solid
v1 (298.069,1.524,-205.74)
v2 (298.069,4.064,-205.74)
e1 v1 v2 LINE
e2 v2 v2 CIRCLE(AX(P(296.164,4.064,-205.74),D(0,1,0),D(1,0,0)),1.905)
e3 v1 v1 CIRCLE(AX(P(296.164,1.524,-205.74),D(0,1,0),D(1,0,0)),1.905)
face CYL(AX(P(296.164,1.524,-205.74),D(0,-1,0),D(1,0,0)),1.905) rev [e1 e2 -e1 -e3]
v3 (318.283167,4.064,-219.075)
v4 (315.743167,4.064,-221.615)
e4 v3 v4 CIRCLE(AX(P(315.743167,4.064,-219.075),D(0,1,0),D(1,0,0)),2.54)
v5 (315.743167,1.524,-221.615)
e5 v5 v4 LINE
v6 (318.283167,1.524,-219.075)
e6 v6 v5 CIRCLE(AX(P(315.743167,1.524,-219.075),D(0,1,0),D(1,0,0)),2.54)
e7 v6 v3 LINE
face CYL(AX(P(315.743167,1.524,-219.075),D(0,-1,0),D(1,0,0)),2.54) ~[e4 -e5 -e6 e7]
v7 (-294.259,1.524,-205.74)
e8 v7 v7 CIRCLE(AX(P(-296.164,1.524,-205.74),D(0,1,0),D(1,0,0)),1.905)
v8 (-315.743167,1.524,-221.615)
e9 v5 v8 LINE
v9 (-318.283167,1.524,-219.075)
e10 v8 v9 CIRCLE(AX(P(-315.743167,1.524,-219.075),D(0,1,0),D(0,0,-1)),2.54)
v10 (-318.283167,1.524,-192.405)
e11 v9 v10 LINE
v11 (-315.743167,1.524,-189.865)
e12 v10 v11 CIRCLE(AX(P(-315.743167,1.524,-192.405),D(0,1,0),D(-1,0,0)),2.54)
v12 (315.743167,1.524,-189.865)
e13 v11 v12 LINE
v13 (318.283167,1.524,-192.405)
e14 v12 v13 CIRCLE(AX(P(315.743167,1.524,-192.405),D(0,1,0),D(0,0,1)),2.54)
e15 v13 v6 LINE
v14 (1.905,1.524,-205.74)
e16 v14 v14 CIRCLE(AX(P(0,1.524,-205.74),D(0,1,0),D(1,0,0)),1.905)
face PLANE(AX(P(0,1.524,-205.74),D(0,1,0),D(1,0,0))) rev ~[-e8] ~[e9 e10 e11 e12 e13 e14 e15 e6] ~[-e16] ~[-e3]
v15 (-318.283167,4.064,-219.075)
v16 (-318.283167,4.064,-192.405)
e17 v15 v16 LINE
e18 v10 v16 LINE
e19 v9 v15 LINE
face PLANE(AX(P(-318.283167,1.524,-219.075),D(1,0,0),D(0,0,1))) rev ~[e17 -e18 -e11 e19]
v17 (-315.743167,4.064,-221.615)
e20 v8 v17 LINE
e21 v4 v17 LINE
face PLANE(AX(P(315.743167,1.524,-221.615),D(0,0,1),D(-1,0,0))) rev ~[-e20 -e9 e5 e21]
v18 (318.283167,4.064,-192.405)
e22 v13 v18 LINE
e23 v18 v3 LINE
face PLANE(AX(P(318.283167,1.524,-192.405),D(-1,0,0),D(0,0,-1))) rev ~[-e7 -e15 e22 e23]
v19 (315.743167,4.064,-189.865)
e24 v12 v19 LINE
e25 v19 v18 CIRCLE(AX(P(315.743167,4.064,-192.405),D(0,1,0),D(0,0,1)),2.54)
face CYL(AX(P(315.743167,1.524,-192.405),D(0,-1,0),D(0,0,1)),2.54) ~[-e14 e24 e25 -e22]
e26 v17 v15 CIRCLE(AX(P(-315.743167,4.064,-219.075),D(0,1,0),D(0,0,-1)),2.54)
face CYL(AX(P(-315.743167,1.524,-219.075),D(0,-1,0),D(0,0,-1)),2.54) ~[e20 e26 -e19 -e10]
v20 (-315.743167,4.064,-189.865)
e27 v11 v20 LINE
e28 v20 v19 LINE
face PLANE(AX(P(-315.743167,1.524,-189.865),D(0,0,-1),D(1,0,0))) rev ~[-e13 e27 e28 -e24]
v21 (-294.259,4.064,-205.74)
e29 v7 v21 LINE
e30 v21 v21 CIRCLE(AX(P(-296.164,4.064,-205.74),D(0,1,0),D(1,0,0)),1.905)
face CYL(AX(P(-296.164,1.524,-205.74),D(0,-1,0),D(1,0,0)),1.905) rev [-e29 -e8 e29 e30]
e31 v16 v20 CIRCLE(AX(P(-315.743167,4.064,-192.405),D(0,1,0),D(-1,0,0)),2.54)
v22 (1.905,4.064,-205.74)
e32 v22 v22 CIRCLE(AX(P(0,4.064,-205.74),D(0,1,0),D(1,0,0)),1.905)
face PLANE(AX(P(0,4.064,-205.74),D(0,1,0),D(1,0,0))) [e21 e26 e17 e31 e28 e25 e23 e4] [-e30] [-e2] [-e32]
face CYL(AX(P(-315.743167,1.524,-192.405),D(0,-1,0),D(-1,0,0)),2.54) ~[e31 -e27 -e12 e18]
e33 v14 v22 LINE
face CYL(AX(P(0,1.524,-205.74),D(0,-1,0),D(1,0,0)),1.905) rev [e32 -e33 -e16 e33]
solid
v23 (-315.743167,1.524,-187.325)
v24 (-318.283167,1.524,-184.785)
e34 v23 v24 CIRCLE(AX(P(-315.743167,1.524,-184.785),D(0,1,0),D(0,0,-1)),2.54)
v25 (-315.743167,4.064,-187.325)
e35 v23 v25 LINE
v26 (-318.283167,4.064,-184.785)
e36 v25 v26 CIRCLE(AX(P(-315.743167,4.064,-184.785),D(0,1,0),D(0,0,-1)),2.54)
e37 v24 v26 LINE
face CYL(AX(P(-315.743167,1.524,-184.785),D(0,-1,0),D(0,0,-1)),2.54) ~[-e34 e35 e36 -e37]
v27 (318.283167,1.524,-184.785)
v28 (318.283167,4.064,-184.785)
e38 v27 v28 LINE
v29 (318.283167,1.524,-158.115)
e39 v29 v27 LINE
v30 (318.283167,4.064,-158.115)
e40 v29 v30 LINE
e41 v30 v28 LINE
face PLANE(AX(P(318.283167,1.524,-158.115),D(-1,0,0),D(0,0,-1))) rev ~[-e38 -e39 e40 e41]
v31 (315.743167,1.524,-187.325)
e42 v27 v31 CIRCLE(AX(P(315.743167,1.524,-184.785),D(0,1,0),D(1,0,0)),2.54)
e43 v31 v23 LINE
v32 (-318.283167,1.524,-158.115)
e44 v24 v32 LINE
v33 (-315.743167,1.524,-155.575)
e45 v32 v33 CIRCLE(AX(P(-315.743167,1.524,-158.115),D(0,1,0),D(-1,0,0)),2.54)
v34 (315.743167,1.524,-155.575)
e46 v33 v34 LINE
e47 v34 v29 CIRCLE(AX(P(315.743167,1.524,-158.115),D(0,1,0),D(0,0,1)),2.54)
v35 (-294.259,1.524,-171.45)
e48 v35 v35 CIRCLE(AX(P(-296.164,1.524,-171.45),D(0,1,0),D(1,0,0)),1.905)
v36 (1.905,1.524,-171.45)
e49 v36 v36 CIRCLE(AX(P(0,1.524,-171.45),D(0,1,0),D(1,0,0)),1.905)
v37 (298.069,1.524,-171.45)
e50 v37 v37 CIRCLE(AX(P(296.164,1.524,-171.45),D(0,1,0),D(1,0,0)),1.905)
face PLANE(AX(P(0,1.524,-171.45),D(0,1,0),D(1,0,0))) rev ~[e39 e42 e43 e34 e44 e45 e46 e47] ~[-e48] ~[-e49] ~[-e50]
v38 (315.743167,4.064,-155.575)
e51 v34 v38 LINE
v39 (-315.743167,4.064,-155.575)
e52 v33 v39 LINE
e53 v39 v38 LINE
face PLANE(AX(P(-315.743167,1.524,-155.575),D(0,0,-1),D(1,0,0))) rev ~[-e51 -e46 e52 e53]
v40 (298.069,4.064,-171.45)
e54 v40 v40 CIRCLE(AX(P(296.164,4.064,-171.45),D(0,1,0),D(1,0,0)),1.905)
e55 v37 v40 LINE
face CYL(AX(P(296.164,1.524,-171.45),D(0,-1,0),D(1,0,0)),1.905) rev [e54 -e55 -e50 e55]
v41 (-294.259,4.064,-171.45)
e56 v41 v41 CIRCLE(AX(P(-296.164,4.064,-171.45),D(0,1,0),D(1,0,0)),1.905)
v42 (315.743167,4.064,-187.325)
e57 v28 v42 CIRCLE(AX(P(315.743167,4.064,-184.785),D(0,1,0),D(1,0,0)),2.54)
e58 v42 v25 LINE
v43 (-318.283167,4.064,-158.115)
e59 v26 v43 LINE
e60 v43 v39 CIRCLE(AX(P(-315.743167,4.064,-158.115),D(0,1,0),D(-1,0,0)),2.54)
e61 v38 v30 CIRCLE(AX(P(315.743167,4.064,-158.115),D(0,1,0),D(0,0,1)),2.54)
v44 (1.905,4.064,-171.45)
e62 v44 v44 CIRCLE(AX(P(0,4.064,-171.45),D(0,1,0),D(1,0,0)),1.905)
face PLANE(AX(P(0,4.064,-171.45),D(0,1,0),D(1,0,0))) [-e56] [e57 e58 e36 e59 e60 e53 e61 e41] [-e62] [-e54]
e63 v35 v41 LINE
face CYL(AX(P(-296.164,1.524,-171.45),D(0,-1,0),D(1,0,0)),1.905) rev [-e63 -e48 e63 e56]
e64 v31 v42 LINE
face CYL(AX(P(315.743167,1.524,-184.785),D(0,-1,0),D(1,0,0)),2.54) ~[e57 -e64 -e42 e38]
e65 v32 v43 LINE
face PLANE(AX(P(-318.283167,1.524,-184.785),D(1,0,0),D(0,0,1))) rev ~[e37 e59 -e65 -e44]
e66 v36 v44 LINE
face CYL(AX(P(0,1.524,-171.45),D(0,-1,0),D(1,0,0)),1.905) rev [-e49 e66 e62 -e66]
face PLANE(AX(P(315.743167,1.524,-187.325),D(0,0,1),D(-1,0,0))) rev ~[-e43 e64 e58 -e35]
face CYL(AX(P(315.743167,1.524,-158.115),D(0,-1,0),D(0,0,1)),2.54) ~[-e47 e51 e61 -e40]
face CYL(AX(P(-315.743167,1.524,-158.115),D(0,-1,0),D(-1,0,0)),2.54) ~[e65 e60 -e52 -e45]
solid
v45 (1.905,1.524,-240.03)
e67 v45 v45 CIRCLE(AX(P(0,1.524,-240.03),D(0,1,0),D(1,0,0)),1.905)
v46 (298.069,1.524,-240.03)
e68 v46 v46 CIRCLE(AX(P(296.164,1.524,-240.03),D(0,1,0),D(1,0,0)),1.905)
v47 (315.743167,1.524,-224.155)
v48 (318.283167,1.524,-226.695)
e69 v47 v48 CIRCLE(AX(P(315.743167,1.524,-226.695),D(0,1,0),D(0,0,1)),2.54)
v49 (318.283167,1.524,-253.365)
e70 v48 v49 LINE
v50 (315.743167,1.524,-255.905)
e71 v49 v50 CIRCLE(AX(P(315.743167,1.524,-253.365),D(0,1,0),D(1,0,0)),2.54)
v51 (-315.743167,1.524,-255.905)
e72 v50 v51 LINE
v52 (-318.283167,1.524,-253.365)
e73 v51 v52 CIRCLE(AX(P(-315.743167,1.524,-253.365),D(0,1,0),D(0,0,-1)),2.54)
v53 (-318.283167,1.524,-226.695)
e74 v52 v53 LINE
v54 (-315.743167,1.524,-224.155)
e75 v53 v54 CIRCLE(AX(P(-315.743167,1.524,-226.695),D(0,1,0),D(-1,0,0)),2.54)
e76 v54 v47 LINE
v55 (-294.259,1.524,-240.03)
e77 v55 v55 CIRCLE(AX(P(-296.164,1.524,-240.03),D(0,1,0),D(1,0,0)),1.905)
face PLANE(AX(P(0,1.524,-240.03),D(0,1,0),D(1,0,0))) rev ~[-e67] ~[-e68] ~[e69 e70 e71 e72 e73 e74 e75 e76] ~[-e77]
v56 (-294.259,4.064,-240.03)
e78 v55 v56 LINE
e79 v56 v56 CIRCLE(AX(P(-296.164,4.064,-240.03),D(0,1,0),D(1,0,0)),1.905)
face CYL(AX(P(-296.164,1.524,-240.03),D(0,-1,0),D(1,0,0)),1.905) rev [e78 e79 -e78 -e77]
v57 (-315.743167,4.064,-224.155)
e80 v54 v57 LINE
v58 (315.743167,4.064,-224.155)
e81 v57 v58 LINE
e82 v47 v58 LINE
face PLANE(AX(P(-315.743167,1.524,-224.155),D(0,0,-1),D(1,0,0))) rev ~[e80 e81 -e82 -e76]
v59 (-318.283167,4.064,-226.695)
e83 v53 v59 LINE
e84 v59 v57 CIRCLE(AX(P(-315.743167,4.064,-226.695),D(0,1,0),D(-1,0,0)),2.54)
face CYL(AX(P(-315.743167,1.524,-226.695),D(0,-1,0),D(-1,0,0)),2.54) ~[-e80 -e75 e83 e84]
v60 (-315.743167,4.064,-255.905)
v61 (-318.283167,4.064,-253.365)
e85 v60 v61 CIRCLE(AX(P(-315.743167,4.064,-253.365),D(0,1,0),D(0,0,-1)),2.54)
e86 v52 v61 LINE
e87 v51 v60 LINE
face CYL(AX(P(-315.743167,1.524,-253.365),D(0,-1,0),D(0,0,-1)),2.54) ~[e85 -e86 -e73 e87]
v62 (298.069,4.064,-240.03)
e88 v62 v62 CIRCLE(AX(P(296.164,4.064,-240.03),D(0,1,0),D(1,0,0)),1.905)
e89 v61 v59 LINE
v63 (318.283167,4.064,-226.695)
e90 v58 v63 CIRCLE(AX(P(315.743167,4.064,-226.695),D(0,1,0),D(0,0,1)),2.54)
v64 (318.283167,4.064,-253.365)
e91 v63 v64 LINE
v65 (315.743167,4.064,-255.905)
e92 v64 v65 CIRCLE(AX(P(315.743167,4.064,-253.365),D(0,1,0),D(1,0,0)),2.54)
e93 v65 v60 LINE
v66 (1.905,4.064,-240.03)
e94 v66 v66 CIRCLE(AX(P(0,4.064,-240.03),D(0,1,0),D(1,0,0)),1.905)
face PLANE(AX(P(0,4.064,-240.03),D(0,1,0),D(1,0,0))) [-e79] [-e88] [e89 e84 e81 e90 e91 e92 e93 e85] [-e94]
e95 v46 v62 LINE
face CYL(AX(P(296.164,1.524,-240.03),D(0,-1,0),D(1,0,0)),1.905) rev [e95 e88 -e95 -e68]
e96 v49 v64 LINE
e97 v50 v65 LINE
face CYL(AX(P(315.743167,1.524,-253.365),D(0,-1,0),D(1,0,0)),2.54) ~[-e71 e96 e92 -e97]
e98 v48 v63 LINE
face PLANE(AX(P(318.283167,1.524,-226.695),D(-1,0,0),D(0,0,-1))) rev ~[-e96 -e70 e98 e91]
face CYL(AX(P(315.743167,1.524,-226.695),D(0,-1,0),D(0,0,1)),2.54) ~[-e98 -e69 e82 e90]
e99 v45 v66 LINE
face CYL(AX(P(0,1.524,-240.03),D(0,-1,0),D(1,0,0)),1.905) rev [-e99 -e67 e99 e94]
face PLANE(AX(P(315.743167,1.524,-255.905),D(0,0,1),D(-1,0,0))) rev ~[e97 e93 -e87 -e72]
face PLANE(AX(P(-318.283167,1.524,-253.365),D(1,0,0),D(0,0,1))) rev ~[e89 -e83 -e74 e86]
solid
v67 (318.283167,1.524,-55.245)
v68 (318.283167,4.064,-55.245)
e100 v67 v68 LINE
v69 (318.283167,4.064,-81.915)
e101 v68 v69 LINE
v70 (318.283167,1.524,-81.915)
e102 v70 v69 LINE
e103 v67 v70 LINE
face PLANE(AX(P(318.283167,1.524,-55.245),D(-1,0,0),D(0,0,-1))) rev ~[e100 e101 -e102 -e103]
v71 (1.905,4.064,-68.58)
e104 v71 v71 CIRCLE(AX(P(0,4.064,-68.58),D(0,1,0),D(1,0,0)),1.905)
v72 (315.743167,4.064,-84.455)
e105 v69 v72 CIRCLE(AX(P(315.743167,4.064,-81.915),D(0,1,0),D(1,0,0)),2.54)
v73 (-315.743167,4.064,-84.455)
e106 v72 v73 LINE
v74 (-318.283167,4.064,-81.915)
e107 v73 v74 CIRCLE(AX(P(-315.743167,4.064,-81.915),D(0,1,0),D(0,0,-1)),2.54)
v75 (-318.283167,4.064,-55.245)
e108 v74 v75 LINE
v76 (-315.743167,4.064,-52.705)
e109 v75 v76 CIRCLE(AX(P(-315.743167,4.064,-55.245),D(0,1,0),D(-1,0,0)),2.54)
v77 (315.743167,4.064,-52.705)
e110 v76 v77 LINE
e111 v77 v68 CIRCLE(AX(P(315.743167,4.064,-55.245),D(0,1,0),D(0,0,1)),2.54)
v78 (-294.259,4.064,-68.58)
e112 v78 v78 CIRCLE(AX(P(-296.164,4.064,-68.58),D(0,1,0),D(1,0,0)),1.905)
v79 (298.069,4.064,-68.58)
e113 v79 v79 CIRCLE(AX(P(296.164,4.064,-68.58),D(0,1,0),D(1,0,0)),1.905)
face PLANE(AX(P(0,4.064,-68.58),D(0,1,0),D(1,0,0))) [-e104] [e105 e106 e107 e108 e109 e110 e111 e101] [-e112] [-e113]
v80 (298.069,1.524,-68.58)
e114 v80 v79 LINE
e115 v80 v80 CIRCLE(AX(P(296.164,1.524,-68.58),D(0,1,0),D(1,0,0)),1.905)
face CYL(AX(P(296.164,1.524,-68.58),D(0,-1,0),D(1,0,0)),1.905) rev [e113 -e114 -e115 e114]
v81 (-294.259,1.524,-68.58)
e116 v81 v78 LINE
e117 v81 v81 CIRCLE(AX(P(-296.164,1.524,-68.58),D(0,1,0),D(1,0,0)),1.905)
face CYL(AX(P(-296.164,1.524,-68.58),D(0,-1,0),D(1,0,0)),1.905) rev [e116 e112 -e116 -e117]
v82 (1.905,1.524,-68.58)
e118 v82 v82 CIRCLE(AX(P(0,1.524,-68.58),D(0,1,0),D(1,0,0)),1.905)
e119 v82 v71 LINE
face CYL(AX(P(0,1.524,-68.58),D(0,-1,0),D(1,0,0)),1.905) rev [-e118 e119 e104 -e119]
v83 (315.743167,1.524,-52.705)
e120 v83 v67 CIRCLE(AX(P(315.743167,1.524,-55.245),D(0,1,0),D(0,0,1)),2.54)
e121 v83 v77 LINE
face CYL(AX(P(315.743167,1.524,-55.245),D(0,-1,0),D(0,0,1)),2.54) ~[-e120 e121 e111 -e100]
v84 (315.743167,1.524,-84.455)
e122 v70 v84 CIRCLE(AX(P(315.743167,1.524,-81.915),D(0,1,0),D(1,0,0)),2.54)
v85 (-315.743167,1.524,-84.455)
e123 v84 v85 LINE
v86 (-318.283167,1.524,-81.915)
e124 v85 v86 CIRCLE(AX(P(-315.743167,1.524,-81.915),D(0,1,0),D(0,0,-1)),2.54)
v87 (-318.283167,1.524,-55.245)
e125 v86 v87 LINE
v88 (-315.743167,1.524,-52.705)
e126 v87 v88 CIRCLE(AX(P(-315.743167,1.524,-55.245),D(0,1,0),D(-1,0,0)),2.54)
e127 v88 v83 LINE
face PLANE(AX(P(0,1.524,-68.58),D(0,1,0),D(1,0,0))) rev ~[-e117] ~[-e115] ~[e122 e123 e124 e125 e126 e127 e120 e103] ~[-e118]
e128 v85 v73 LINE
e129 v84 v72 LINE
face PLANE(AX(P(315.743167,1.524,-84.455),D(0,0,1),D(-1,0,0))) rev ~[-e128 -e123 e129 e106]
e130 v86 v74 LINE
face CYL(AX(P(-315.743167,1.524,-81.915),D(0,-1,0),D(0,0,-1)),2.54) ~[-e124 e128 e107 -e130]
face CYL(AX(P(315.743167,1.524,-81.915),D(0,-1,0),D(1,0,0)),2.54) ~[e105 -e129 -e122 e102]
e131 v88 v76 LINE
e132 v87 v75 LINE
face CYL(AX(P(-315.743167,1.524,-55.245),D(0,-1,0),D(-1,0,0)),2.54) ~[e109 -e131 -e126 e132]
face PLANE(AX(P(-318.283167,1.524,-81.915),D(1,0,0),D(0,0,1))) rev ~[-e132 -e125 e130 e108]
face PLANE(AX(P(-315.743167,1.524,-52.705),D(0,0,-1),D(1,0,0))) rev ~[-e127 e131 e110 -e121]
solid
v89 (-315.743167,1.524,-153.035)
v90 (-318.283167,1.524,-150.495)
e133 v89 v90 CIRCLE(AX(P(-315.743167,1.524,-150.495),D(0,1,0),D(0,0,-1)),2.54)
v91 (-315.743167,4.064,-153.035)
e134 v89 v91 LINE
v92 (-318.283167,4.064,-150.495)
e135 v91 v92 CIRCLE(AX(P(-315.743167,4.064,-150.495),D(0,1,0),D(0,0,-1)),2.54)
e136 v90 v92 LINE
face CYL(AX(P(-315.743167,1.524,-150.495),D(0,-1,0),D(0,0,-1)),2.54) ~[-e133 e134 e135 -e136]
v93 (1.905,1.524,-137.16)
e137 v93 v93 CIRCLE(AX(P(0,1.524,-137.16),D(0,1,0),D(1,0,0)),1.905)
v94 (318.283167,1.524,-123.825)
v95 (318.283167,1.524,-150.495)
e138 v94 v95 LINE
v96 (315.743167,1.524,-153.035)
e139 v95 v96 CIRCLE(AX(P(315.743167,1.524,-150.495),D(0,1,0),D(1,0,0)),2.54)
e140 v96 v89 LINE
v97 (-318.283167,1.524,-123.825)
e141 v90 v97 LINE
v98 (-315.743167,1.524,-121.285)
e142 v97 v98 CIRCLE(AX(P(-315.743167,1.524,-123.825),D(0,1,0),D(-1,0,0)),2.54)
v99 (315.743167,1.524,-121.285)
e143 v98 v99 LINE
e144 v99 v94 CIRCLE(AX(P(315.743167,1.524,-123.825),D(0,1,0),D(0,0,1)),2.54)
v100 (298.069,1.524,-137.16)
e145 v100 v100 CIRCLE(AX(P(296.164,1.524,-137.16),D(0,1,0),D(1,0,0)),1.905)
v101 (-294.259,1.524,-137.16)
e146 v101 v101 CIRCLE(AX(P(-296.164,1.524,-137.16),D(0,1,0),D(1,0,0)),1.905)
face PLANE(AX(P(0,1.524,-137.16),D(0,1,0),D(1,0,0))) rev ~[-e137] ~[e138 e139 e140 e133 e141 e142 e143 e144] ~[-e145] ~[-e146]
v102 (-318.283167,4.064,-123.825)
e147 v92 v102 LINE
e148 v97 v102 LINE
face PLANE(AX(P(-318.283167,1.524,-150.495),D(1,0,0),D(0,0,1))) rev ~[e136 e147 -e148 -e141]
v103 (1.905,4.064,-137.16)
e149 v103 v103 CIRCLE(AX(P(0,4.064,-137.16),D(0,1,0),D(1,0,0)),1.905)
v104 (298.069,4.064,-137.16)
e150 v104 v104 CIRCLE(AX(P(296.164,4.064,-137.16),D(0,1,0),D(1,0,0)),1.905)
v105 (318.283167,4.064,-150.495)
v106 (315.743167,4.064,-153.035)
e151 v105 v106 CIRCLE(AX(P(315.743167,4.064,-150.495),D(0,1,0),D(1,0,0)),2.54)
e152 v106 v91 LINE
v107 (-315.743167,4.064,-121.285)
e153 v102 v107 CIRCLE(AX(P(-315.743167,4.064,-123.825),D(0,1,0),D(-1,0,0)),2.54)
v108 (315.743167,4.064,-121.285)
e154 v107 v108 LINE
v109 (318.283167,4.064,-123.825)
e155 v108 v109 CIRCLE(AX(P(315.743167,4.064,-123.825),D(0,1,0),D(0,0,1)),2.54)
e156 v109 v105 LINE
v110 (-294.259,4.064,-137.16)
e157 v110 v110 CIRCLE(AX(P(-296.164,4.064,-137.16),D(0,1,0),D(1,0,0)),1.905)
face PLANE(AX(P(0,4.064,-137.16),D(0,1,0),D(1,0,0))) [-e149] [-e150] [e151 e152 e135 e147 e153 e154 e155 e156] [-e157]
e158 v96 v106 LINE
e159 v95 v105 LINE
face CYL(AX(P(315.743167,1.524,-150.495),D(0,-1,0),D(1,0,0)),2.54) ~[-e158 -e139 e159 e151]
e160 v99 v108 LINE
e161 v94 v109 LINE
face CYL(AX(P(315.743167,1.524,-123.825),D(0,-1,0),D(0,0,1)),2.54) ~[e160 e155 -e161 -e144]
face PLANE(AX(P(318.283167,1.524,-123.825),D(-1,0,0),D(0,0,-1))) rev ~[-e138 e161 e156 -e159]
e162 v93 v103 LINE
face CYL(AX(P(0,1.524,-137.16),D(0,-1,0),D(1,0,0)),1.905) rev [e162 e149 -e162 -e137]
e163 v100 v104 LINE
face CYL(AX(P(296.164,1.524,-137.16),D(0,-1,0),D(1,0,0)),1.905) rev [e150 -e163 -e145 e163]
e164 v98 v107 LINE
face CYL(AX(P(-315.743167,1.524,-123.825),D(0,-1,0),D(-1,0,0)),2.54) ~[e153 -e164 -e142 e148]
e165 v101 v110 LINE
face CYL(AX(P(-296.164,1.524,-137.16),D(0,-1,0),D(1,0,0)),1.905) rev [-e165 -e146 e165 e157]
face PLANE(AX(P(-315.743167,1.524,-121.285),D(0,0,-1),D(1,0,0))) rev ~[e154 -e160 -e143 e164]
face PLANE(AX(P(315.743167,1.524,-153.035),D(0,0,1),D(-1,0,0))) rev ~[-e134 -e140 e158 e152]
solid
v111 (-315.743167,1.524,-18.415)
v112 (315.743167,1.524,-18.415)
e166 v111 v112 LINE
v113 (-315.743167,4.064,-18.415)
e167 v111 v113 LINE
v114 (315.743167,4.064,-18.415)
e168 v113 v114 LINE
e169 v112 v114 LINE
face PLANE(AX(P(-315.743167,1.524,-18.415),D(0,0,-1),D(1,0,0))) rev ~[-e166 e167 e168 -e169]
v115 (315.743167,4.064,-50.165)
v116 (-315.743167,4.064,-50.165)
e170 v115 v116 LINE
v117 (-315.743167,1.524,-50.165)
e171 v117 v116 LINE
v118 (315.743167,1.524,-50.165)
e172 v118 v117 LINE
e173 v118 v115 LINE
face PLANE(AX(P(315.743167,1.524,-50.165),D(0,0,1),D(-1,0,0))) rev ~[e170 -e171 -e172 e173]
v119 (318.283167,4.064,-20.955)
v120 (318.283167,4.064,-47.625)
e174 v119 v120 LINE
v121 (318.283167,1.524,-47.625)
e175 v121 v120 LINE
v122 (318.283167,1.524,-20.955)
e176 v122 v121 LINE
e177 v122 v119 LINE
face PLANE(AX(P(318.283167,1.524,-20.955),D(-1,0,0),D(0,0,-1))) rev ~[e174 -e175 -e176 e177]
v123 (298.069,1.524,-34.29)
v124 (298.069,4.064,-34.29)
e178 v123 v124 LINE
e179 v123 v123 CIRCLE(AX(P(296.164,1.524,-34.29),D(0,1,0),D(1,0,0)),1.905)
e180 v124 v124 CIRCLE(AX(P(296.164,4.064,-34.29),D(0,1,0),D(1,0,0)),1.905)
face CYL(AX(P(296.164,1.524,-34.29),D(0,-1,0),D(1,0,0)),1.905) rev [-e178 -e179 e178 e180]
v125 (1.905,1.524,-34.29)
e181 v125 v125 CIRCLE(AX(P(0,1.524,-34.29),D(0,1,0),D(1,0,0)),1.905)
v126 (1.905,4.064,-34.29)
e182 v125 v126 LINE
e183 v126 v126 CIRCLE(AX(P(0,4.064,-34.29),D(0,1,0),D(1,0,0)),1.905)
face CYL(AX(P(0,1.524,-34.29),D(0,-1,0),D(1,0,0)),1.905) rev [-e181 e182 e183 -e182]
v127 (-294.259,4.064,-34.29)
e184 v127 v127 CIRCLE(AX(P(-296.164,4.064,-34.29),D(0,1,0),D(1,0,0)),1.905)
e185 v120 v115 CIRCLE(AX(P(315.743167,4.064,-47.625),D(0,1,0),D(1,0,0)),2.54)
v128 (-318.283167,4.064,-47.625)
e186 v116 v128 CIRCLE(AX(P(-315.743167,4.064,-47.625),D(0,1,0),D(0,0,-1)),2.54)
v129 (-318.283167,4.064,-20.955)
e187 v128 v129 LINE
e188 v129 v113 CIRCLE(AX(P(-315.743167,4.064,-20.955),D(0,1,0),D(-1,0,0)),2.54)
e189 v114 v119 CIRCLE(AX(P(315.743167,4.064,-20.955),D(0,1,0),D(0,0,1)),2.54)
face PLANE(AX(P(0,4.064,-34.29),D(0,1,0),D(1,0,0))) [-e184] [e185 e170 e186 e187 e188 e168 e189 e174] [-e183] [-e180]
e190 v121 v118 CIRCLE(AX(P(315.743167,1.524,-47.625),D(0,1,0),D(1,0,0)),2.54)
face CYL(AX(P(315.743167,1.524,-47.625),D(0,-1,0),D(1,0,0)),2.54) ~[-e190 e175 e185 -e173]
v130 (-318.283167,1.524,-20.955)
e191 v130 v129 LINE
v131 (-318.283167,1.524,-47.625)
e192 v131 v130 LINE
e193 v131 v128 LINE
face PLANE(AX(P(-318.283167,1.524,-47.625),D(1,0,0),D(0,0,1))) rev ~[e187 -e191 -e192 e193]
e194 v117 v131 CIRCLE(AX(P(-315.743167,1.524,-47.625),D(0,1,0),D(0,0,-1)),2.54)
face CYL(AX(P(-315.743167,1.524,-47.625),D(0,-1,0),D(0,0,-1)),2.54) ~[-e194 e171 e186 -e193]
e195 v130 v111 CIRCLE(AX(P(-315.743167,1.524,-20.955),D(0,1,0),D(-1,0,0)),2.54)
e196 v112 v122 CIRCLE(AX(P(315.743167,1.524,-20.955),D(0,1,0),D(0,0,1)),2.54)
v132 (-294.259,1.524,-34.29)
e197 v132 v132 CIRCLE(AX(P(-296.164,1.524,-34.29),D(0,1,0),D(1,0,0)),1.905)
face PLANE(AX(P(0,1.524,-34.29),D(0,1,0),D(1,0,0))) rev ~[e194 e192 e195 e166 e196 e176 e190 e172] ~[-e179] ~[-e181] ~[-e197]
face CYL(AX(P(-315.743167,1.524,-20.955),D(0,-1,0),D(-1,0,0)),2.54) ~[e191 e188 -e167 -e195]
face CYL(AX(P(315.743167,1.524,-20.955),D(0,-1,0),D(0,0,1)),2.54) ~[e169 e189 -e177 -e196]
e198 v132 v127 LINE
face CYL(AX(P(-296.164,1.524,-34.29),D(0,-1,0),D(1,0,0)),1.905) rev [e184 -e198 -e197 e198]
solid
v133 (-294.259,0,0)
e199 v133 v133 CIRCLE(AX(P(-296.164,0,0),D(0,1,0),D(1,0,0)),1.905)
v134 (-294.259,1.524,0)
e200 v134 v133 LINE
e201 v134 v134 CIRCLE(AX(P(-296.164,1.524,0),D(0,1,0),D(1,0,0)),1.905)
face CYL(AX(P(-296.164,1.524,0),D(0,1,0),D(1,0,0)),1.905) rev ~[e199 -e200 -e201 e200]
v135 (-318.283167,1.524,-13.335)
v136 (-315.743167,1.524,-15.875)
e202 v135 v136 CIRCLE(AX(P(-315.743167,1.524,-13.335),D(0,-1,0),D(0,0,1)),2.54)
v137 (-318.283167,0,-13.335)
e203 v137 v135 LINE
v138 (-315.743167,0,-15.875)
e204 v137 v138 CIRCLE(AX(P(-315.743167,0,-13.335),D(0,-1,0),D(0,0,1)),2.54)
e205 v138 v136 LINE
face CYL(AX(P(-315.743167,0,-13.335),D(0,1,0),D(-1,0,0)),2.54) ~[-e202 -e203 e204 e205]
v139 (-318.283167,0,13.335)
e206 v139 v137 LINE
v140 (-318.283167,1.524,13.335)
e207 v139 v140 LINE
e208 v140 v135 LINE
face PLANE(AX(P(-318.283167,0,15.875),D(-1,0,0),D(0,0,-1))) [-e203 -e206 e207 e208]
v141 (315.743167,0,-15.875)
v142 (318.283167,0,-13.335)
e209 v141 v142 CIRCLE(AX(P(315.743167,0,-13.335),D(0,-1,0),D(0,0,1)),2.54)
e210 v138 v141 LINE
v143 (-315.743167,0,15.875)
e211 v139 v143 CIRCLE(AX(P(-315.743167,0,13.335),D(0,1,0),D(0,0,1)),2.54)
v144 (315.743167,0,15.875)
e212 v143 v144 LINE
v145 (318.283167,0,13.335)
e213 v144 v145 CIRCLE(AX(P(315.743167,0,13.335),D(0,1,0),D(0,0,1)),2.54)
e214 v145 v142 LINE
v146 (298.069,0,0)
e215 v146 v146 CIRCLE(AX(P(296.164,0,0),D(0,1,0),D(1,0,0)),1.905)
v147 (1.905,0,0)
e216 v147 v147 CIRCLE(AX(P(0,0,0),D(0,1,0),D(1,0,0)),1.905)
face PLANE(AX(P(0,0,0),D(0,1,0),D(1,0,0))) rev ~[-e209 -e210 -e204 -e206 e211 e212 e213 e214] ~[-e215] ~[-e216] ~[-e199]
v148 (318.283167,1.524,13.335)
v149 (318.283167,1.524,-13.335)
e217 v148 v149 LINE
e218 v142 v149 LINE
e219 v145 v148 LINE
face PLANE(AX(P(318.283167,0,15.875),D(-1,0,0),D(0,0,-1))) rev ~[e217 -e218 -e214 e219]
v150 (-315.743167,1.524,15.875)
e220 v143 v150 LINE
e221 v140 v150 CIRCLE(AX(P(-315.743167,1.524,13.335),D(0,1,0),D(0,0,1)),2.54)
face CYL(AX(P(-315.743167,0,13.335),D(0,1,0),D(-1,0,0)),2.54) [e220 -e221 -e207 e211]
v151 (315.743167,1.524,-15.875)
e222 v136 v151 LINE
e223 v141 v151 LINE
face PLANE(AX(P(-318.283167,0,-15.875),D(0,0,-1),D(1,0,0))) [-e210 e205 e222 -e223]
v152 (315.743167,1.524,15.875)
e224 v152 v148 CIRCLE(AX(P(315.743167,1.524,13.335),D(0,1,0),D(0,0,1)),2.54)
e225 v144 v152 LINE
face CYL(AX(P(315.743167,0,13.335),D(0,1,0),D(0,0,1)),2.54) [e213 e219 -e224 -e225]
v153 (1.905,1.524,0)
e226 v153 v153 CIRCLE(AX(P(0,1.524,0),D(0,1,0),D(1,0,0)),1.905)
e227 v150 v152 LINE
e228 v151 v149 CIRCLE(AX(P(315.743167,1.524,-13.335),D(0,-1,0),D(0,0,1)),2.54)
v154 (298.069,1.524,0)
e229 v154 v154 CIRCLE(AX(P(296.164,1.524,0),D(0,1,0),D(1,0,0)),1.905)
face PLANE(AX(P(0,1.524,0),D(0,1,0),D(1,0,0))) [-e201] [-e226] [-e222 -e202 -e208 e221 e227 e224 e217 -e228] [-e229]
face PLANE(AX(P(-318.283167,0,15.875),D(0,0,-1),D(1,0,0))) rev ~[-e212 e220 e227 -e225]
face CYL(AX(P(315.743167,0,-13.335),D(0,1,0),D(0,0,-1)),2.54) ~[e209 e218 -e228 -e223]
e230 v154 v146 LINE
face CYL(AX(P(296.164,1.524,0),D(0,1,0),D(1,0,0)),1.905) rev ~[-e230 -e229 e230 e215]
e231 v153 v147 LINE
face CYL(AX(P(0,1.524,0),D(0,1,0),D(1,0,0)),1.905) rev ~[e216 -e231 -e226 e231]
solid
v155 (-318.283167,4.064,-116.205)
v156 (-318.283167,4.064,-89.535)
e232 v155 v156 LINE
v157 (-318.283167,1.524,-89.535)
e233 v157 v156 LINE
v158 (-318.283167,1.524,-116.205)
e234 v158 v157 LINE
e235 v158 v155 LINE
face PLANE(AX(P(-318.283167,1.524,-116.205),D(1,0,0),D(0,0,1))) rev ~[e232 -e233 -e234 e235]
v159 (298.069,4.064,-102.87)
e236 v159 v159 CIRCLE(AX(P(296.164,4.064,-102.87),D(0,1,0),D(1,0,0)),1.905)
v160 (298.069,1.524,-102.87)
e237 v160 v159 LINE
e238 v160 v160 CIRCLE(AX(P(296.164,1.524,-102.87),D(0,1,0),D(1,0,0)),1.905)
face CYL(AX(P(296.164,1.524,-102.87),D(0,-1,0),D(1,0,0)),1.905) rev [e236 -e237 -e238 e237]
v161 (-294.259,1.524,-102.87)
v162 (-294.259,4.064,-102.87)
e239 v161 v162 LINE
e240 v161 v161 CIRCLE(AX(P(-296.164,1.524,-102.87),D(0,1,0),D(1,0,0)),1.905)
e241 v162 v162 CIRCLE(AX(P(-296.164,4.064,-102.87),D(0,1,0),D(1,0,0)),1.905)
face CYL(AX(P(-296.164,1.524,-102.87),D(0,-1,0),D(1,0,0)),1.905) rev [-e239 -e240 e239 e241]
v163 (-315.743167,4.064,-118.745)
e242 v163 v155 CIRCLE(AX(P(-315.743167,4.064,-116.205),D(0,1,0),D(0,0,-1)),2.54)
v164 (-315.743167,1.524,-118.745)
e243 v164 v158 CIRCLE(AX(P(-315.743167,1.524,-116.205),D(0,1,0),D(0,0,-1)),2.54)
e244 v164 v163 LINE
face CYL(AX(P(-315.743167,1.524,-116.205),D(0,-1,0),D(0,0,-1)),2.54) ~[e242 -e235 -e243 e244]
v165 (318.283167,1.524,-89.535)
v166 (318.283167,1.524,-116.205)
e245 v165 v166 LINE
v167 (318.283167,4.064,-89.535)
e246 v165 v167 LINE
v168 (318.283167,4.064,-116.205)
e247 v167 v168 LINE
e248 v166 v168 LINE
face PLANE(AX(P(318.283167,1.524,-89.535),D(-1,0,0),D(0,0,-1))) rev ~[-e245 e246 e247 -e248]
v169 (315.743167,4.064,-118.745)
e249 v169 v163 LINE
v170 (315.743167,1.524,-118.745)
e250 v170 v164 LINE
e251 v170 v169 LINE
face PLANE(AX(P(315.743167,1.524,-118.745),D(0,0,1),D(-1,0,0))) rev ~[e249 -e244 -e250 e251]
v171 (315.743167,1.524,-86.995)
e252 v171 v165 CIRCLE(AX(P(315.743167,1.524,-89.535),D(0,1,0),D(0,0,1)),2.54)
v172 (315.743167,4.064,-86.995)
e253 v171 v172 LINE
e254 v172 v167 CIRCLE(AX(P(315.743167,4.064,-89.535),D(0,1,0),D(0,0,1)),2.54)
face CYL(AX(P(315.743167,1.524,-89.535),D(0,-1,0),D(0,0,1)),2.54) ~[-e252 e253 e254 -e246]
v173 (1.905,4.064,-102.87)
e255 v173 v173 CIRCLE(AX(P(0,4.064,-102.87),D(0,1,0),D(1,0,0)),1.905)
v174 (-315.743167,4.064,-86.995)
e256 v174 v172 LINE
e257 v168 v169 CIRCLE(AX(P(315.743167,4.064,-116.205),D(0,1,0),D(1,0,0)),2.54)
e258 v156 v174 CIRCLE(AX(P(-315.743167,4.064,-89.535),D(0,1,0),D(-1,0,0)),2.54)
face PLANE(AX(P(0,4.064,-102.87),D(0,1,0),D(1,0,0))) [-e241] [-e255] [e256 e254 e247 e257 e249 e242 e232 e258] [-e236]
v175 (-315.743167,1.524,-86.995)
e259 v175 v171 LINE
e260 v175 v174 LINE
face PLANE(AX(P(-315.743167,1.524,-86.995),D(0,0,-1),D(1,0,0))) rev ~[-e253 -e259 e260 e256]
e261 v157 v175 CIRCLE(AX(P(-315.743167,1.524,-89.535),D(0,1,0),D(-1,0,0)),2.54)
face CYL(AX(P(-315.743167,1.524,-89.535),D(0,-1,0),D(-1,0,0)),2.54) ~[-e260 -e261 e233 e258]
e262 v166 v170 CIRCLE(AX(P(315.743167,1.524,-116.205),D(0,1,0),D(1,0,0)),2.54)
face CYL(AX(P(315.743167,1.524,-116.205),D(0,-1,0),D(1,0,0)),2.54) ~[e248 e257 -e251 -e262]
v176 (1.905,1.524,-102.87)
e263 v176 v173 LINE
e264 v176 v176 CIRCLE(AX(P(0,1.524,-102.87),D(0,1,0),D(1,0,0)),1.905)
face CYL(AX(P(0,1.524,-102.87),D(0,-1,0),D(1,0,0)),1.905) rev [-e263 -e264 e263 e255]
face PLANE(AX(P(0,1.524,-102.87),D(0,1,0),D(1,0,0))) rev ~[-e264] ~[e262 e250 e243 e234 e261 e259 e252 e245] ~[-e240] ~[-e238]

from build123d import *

# Parameters (mm, degrees)
SKETCH1_W             = 636.566333418
SKETCH1_H             = 31.75
BOSS_EXTRUDE1_DEPTH   = 1.524
SKETCH2_R             = 1.905
CUT_EXTRUDE1_DEPTH    = 2.524
FILLET1_R             = 2.54
SKETCH3_R             = 1.905
BOSS_EXTRUDE2_DEPTH   = 2.54
BOSS_EXTRUDE2_2_DEPTH = 2.54
BOSS_EXTRUDE2_3_DEPTH = 2.54
BOSS_EXTRUDE2_4_DEPTH = 2.54
BOSS_EXTRUDE2_5_DEPTH = 2.54
BOSS_EXTRUDE2_6_DEPTH = 2.54
BOSS_EXTRUDE2_7_DEPTH = 2.54


with BuildPart() as part:
    # Sketch1 → Boss-Extrude1 (new body)
    with BuildSketch(Plane(origin=(0, 0, 0), x_dir=(1, 0, 0), z_dir=(0, 1, 0))):
        Rectangle(SKETCH1_W, SKETCH1_H)
    extrude(amount=BOSS_EXTRUDE1_DEPTH)

    # Sketch2 → Cut-Extrude1 (cut, through all)
    with BuildSketch(Plane(origin=(0, 1.524, 0), x_dir=(1, 0, 0), z_dir=(0, 1, 0))):
        with Locations((-296.164, 0)):
            Circle(SKETCH2_R)
        with Locations((296.164, 0)):
            Circle(SKETCH2_R)
        Circle(SKETCH2_R)
    extrude(amount=-CUT_EXTRUDE1_DEPTH, mode=Mode.SUBTRACT)

    # Fillet1
    fillet1_edges = [part.edges().sort_by_distance(p)[0] for p in [
        (318.283166709, 0.762, 15.875),
        (-318.283166709, 0.762, 15.875),
        (-318.283166709, 0.762, -15.875),
        (318.283166709, 0.762, -15.875),
    ]]
    fillet(fillet1_edges, radius=FILLET1_R)


with BuildPart() as body_2:
    # Sketch3 → Boss-Extrude2 (new body)
    with BuildSketch(Plane(origin=(0, 1.524, 0), x_dir=(1, 0, 0), z_dir=(0, 1, 0))):
        with BuildLine():
            Line((-315.743166709, 18.415), (315.743166709, 18.415))
            ThreePointArc((315.743166709, 18.415), (317.539217933, 19.158948776), (318.283166709, 20.955))
            Line((318.283166709, 20.955), (318.283166709, 47.625))
            ThreePointArc((318.283166709, 47.625), (317.539217933, 49.421051224), (315.743166709, 50.165))
            Line((315.743166709, 50.165), (-315.743166709, 50.165))
            ThreePointArc((-315.743166709, 50.165), (-317.539217933, 49.421051224), (-318.283166709, 47.625))
            Line((-318.283166709, 47.625), (-318.283166709, 20.955))
            ThreePointArc((-318.283166709, 20.955), (-317.539217933, 19.158948776), (-315.743166709, 18.415))
        make_face()
        with Locations((296.164, 34.29)):
            Circle(SKETCH3_R, mode=Mode.SUBTRACT)
        with Locations((0, 34.29)):
            Circle(SKETCH3_R, mode=Mode.SUBTRACT)
        with Locations((-296.164, 34.29)):
            Circle(SKETCH3_R, mode=Mode.SUBTRACT)
    extrude(amount=BOSS_EXTRUDE2_DEPTH)


with BuildPart() as body_3:
    # Sketch3 → Boss-Extrude2 2 (new body)
    with BuildSketch(Plane(origin=(0, 1.524, 0), x_dir=(1, 0, 0), z_dir=(0, 1, 0))):
        with BuildLine():
            Line((-315.743166709, 52.705), (315.743166709, 52.705))
            ThreePointArc((315.743166709, 52.705), (317.539217933, 53.448948776), (318.283166709, 55.245))
            Line((318.283166709, 55.245), (318.283166709, 81.915))
            ThreePointArc((318.283166709, 81.915), (317.539217933, 83.711051224), (315.743166709, 84.455))
            Line((315.743166709, 84.455), (-315.743166709, 84.455))
            ThreePointArc((-315.743166709, 84.455), (-317.539217933, 83.711051224), (-318.283166709, 81.915))
            Line((-318.283166709, 81.915), (-318.283166709, 55.245))
            ThreePointArc((-318.283166709, 55.245), (-317.539217933, 53.448948776), (-315.743166709, 52.705))
        make_face()
        with Locations((296.164, 68.58)):
            Circle(SKETCH3_R, mode=Mode.SUBTRACT)
        with Locations((0, 68.58)):
            Circle(SKETCH3_R, mode=Mode.SUBTRACT)
        with Locations((-296.164, 68.58)):
            Circle(SKETCH3_R, mode=Mode.SUBTRACT)
    extrude(amount=BOSS_EXTRUDE2_2_DEPTH)


with BuildPart() as body_4:
    # Sketch3 → Boss-Extrude2 3 (new body)
    with BuildSketch(Plane(origin=(0, 1.524, 0), x_dir=(1, 0, 0), z_dir=(0, 1, 0))):
        with BuildLine():
            Line((-315.743166709, 86.995), (315.743166709, 86.995))
            ThreePointArc((315.743166709, 86.995), (317.539217933, 87.738948776), (318.283166709, 89.535))
            Line((318.283166709, 89.535), (318.283166709, 116.205))
            ThreePointArc((318.283166709, 116.205), (317.539217933, 118.001051224), (315.743166709, 118.745))
            Line((315.743166709, 118.745), (-315.743166709, 118.745))
            ThreePointArc((-315.743166709, 118.745), (-317.539217933, 118.001051224), (-318.283166709, 116.205))
            Line((-318.283166709, 116.205), (-318.283166709, 89.535))
            ThreePointArc((-318.283166709, 89.535), (-317.539217933, 87.738948776), (-315.743166709, 86.995))
        make_face()
        with Locations((296.164, 102.87)):
            Circle(SKETCH3_R, mode=Mode.SUBTRACT)
        with Locations((0, 102.87)):
            Circle(SKETCH3_R, mode=Mode.SUBTRACT)
        with Locations((-296.164, 102.87)):
            Circle(SKETCH3_R, mode=Mode.SUBTRACT)
    extrude(amount=BOSS_EXTRUDE2_3_DEPTH)


with BuildPart() as body_5:
    # Sketch3 → Boss-Extrude2 4 (new body)
    with BuildSketch(Plane(origin=(0, 1.524, 0), x_dir=(1, 0, 0), z_dir=(0, 1, 0))):
        with BuildLine():
            Line((-315.743166709, 121.285), (315.743166709, 121.285))
            ThreePointArc((315.743166709, 121.285), (317.539217933, 122.028948776), (318.283166709, 123.825))
            Line((318.283166709, 123.825), (318.283166709, 150.495))
            ThreePointArc((318.283166709, 150.495), (317.539217933, 152.291051224), (315.743166709, 153.035))
            Line((315.743166709, 153.035), (-315.743166709, 153.035))
            ThreePointArc((-315.743166709, 153.035), (-317.539217933, 152.291051224), (-318.283166709, 150.495))
            Line((-318.283166709, 150.495), (-318.283166709, 123.825))
            ThreePointArc((-318.283166709, 123.825), (-317.539217933, 122.028948776), (-315.743166709, 121.285))
        make_face()
        with Locations((296.164, 137.16)):
            Circle(SKETCH3_R, mode=Mode.SUBTRACT)
        with Locations((0, 137.16)):
            Circle(SKETCH3_R, mode=Mode.SUBTRACT)
        with Locations((-296.164, 137.16)):
            Circle(SKETCH3_R, mode=Mode.SUBTRACT)
    extrude(amount=BOSS_EXTRUDE2_4_DEPTH)


with BuildPart() as body_6:
    # Sketch3 → Boss-Extrude2 5 (new body)
    with BuildSketch(Plane(origin=(0, 1.524, 0), x_dir=(1, 0, 0), z_dir=(0, 1, 0))):
        with BuildLine():
            Line((-315.743166709, 155.575), (315.743166709, 155.575))
            ThreePointArc((315.743166709, 155.575), (317.539217933, 156.318948776), (318.283166709, 158.115))
            Line((318.283166709, 158.115), (318.283166709, 184.785))
            ThreePointArc((318.283166709, 184.785), (317.539217933, 186.581051224), (315.743166709, 187.325))
            Line((315.743166709, 187.325), (-315.743166709, 187.325))
            ThreePointArc((-315.743166709, 187.325), (-317.539217933, 186.581051224), (-318.283166709, 184.785))
            Line((-318.283166709, 184.785), (-318.283166709, 158.115))
            ThreePointArc((-318.283166709, 158.115), (-317.539217933, 156.318948776), (-315.743166709, 155.575))
        make_face()
        with Locations((296.164, 171.45)):
            Circle(SKETCH3_R, mode=Mode.SUBTRACT)
        with Locations((0, 171.45)):
            Circle(SKETCH3_R, mode=Mode.SUBTRACT)
        with Locations((-296.164, 171.45)):
            Circle(SKETCH3_R, mode=Mode.SUBTRACT)
    extrude(amount=BOSS_EXTRUDE2_5_DEPTH)


with BuildPart() as body_7:
    # Sketch3 → Boss-Extrude2 6 (new body)
    with BuildSketch(Plane(origin=(0, 1.524, 0), x_dir=(1, 0, 0), z_dir=(0, 1, 0))):
        with BuildLine():
            Line((-315.743166709, 189.865), (315.743166709, 189.865))
            ThreePointArc((315.743166709, 189.865), (317.539217933, 190.608948776), (318.283166709, 192.405))
            Line((318.283166709, 192.405), (318.283166709, 219.075))
            ThreePointArc((318.283166709, 219.075), (317.539217933, 220.871051224), (315.743166709, 221.615))
            Line((315.743166709, 221.615), (-315.743166709, 221.615))
            ThreePointArc((-315.743166709, 221.615), (-317.539217933, 220.871051224), (-318.283166709, 219.075))
            Line((-318.283166709, 219.075), (-318.283166709, 192.405))
            ThreePointArc((-318.283166709, 192.405), (-317.539217933, 190.608948776), (-315.743166709, 189.865))
        make_face()
        with Locations((296.164, 205.74)):
            Circle(SKETCH3_R, mode=Mode.SUBTRACT)
        with Locations((0, 205.74)):
            Circle(SKETCH3_R, mode=Mode.SUBTRACT)
        with Locations((-296.164, 205.74)):
            Circle(SKETCH3_R, mode=Mode.SUBTRACT)
    extrude(amount=BOSS_EXTRUDE2_6_DEPTH)


with BuildPart() as body_8:
    # Sketch3 → Boss-Extrude2 7 (new body)
    with BuildSketch(Plane(origin=(0, 1.524, 0), x_dir=(1, 0, 0), z_dir=(0, 1, 0))):
        with BuildLine():
            Line((-315.743166709, 224.155), (315.743166709, 224.155))
            ThreePointArc((315.743166709, 224.155), (317.539217933, 224.898948776), (318.283166709, 226.695))
            Line((318.283166709, 226.695), (318.283166709, 253.365))
            ThreePointArc((318.283166709, 253.365), (317.539217933, 255.161051224), (315.743166709, 255.905))
            Line((315.743166709, 255.905), (-315.743166709, 255.905))
            ThreePointArc((-315.743166709, 255.905), (-317.539217933, 255.161051224), (-318.283166709, 253.365))
            Line((-318.283166709, 253.365), (-318.283166709, 226.695))
            ThreePointArc((-318.283166709, 226.695), (-317.539217933, 224.898948776), (-315.743166709, 224.155))
        make_face()
        with Locations((296.164, 240.03)):
            Circle(SKETCH3_R, mode=Mode.SUBTRACT)
        with Locations((0, 240.03)):
            Circle(SKETCH3_R, mode=Mode.SUBTRACT)
        with Locations((-296.164, 240.03)):
            Circle(SKETCH3_R, mode=Mode.SUBTRACT)
    extrude(amount=BOSS_EXTRUDE2_7_DEPTH)


solid = Compound([part.part, body_2.part, body_3.part, body_4.part, body_5.part, body_6.part, body_7.part, body_8.part])
